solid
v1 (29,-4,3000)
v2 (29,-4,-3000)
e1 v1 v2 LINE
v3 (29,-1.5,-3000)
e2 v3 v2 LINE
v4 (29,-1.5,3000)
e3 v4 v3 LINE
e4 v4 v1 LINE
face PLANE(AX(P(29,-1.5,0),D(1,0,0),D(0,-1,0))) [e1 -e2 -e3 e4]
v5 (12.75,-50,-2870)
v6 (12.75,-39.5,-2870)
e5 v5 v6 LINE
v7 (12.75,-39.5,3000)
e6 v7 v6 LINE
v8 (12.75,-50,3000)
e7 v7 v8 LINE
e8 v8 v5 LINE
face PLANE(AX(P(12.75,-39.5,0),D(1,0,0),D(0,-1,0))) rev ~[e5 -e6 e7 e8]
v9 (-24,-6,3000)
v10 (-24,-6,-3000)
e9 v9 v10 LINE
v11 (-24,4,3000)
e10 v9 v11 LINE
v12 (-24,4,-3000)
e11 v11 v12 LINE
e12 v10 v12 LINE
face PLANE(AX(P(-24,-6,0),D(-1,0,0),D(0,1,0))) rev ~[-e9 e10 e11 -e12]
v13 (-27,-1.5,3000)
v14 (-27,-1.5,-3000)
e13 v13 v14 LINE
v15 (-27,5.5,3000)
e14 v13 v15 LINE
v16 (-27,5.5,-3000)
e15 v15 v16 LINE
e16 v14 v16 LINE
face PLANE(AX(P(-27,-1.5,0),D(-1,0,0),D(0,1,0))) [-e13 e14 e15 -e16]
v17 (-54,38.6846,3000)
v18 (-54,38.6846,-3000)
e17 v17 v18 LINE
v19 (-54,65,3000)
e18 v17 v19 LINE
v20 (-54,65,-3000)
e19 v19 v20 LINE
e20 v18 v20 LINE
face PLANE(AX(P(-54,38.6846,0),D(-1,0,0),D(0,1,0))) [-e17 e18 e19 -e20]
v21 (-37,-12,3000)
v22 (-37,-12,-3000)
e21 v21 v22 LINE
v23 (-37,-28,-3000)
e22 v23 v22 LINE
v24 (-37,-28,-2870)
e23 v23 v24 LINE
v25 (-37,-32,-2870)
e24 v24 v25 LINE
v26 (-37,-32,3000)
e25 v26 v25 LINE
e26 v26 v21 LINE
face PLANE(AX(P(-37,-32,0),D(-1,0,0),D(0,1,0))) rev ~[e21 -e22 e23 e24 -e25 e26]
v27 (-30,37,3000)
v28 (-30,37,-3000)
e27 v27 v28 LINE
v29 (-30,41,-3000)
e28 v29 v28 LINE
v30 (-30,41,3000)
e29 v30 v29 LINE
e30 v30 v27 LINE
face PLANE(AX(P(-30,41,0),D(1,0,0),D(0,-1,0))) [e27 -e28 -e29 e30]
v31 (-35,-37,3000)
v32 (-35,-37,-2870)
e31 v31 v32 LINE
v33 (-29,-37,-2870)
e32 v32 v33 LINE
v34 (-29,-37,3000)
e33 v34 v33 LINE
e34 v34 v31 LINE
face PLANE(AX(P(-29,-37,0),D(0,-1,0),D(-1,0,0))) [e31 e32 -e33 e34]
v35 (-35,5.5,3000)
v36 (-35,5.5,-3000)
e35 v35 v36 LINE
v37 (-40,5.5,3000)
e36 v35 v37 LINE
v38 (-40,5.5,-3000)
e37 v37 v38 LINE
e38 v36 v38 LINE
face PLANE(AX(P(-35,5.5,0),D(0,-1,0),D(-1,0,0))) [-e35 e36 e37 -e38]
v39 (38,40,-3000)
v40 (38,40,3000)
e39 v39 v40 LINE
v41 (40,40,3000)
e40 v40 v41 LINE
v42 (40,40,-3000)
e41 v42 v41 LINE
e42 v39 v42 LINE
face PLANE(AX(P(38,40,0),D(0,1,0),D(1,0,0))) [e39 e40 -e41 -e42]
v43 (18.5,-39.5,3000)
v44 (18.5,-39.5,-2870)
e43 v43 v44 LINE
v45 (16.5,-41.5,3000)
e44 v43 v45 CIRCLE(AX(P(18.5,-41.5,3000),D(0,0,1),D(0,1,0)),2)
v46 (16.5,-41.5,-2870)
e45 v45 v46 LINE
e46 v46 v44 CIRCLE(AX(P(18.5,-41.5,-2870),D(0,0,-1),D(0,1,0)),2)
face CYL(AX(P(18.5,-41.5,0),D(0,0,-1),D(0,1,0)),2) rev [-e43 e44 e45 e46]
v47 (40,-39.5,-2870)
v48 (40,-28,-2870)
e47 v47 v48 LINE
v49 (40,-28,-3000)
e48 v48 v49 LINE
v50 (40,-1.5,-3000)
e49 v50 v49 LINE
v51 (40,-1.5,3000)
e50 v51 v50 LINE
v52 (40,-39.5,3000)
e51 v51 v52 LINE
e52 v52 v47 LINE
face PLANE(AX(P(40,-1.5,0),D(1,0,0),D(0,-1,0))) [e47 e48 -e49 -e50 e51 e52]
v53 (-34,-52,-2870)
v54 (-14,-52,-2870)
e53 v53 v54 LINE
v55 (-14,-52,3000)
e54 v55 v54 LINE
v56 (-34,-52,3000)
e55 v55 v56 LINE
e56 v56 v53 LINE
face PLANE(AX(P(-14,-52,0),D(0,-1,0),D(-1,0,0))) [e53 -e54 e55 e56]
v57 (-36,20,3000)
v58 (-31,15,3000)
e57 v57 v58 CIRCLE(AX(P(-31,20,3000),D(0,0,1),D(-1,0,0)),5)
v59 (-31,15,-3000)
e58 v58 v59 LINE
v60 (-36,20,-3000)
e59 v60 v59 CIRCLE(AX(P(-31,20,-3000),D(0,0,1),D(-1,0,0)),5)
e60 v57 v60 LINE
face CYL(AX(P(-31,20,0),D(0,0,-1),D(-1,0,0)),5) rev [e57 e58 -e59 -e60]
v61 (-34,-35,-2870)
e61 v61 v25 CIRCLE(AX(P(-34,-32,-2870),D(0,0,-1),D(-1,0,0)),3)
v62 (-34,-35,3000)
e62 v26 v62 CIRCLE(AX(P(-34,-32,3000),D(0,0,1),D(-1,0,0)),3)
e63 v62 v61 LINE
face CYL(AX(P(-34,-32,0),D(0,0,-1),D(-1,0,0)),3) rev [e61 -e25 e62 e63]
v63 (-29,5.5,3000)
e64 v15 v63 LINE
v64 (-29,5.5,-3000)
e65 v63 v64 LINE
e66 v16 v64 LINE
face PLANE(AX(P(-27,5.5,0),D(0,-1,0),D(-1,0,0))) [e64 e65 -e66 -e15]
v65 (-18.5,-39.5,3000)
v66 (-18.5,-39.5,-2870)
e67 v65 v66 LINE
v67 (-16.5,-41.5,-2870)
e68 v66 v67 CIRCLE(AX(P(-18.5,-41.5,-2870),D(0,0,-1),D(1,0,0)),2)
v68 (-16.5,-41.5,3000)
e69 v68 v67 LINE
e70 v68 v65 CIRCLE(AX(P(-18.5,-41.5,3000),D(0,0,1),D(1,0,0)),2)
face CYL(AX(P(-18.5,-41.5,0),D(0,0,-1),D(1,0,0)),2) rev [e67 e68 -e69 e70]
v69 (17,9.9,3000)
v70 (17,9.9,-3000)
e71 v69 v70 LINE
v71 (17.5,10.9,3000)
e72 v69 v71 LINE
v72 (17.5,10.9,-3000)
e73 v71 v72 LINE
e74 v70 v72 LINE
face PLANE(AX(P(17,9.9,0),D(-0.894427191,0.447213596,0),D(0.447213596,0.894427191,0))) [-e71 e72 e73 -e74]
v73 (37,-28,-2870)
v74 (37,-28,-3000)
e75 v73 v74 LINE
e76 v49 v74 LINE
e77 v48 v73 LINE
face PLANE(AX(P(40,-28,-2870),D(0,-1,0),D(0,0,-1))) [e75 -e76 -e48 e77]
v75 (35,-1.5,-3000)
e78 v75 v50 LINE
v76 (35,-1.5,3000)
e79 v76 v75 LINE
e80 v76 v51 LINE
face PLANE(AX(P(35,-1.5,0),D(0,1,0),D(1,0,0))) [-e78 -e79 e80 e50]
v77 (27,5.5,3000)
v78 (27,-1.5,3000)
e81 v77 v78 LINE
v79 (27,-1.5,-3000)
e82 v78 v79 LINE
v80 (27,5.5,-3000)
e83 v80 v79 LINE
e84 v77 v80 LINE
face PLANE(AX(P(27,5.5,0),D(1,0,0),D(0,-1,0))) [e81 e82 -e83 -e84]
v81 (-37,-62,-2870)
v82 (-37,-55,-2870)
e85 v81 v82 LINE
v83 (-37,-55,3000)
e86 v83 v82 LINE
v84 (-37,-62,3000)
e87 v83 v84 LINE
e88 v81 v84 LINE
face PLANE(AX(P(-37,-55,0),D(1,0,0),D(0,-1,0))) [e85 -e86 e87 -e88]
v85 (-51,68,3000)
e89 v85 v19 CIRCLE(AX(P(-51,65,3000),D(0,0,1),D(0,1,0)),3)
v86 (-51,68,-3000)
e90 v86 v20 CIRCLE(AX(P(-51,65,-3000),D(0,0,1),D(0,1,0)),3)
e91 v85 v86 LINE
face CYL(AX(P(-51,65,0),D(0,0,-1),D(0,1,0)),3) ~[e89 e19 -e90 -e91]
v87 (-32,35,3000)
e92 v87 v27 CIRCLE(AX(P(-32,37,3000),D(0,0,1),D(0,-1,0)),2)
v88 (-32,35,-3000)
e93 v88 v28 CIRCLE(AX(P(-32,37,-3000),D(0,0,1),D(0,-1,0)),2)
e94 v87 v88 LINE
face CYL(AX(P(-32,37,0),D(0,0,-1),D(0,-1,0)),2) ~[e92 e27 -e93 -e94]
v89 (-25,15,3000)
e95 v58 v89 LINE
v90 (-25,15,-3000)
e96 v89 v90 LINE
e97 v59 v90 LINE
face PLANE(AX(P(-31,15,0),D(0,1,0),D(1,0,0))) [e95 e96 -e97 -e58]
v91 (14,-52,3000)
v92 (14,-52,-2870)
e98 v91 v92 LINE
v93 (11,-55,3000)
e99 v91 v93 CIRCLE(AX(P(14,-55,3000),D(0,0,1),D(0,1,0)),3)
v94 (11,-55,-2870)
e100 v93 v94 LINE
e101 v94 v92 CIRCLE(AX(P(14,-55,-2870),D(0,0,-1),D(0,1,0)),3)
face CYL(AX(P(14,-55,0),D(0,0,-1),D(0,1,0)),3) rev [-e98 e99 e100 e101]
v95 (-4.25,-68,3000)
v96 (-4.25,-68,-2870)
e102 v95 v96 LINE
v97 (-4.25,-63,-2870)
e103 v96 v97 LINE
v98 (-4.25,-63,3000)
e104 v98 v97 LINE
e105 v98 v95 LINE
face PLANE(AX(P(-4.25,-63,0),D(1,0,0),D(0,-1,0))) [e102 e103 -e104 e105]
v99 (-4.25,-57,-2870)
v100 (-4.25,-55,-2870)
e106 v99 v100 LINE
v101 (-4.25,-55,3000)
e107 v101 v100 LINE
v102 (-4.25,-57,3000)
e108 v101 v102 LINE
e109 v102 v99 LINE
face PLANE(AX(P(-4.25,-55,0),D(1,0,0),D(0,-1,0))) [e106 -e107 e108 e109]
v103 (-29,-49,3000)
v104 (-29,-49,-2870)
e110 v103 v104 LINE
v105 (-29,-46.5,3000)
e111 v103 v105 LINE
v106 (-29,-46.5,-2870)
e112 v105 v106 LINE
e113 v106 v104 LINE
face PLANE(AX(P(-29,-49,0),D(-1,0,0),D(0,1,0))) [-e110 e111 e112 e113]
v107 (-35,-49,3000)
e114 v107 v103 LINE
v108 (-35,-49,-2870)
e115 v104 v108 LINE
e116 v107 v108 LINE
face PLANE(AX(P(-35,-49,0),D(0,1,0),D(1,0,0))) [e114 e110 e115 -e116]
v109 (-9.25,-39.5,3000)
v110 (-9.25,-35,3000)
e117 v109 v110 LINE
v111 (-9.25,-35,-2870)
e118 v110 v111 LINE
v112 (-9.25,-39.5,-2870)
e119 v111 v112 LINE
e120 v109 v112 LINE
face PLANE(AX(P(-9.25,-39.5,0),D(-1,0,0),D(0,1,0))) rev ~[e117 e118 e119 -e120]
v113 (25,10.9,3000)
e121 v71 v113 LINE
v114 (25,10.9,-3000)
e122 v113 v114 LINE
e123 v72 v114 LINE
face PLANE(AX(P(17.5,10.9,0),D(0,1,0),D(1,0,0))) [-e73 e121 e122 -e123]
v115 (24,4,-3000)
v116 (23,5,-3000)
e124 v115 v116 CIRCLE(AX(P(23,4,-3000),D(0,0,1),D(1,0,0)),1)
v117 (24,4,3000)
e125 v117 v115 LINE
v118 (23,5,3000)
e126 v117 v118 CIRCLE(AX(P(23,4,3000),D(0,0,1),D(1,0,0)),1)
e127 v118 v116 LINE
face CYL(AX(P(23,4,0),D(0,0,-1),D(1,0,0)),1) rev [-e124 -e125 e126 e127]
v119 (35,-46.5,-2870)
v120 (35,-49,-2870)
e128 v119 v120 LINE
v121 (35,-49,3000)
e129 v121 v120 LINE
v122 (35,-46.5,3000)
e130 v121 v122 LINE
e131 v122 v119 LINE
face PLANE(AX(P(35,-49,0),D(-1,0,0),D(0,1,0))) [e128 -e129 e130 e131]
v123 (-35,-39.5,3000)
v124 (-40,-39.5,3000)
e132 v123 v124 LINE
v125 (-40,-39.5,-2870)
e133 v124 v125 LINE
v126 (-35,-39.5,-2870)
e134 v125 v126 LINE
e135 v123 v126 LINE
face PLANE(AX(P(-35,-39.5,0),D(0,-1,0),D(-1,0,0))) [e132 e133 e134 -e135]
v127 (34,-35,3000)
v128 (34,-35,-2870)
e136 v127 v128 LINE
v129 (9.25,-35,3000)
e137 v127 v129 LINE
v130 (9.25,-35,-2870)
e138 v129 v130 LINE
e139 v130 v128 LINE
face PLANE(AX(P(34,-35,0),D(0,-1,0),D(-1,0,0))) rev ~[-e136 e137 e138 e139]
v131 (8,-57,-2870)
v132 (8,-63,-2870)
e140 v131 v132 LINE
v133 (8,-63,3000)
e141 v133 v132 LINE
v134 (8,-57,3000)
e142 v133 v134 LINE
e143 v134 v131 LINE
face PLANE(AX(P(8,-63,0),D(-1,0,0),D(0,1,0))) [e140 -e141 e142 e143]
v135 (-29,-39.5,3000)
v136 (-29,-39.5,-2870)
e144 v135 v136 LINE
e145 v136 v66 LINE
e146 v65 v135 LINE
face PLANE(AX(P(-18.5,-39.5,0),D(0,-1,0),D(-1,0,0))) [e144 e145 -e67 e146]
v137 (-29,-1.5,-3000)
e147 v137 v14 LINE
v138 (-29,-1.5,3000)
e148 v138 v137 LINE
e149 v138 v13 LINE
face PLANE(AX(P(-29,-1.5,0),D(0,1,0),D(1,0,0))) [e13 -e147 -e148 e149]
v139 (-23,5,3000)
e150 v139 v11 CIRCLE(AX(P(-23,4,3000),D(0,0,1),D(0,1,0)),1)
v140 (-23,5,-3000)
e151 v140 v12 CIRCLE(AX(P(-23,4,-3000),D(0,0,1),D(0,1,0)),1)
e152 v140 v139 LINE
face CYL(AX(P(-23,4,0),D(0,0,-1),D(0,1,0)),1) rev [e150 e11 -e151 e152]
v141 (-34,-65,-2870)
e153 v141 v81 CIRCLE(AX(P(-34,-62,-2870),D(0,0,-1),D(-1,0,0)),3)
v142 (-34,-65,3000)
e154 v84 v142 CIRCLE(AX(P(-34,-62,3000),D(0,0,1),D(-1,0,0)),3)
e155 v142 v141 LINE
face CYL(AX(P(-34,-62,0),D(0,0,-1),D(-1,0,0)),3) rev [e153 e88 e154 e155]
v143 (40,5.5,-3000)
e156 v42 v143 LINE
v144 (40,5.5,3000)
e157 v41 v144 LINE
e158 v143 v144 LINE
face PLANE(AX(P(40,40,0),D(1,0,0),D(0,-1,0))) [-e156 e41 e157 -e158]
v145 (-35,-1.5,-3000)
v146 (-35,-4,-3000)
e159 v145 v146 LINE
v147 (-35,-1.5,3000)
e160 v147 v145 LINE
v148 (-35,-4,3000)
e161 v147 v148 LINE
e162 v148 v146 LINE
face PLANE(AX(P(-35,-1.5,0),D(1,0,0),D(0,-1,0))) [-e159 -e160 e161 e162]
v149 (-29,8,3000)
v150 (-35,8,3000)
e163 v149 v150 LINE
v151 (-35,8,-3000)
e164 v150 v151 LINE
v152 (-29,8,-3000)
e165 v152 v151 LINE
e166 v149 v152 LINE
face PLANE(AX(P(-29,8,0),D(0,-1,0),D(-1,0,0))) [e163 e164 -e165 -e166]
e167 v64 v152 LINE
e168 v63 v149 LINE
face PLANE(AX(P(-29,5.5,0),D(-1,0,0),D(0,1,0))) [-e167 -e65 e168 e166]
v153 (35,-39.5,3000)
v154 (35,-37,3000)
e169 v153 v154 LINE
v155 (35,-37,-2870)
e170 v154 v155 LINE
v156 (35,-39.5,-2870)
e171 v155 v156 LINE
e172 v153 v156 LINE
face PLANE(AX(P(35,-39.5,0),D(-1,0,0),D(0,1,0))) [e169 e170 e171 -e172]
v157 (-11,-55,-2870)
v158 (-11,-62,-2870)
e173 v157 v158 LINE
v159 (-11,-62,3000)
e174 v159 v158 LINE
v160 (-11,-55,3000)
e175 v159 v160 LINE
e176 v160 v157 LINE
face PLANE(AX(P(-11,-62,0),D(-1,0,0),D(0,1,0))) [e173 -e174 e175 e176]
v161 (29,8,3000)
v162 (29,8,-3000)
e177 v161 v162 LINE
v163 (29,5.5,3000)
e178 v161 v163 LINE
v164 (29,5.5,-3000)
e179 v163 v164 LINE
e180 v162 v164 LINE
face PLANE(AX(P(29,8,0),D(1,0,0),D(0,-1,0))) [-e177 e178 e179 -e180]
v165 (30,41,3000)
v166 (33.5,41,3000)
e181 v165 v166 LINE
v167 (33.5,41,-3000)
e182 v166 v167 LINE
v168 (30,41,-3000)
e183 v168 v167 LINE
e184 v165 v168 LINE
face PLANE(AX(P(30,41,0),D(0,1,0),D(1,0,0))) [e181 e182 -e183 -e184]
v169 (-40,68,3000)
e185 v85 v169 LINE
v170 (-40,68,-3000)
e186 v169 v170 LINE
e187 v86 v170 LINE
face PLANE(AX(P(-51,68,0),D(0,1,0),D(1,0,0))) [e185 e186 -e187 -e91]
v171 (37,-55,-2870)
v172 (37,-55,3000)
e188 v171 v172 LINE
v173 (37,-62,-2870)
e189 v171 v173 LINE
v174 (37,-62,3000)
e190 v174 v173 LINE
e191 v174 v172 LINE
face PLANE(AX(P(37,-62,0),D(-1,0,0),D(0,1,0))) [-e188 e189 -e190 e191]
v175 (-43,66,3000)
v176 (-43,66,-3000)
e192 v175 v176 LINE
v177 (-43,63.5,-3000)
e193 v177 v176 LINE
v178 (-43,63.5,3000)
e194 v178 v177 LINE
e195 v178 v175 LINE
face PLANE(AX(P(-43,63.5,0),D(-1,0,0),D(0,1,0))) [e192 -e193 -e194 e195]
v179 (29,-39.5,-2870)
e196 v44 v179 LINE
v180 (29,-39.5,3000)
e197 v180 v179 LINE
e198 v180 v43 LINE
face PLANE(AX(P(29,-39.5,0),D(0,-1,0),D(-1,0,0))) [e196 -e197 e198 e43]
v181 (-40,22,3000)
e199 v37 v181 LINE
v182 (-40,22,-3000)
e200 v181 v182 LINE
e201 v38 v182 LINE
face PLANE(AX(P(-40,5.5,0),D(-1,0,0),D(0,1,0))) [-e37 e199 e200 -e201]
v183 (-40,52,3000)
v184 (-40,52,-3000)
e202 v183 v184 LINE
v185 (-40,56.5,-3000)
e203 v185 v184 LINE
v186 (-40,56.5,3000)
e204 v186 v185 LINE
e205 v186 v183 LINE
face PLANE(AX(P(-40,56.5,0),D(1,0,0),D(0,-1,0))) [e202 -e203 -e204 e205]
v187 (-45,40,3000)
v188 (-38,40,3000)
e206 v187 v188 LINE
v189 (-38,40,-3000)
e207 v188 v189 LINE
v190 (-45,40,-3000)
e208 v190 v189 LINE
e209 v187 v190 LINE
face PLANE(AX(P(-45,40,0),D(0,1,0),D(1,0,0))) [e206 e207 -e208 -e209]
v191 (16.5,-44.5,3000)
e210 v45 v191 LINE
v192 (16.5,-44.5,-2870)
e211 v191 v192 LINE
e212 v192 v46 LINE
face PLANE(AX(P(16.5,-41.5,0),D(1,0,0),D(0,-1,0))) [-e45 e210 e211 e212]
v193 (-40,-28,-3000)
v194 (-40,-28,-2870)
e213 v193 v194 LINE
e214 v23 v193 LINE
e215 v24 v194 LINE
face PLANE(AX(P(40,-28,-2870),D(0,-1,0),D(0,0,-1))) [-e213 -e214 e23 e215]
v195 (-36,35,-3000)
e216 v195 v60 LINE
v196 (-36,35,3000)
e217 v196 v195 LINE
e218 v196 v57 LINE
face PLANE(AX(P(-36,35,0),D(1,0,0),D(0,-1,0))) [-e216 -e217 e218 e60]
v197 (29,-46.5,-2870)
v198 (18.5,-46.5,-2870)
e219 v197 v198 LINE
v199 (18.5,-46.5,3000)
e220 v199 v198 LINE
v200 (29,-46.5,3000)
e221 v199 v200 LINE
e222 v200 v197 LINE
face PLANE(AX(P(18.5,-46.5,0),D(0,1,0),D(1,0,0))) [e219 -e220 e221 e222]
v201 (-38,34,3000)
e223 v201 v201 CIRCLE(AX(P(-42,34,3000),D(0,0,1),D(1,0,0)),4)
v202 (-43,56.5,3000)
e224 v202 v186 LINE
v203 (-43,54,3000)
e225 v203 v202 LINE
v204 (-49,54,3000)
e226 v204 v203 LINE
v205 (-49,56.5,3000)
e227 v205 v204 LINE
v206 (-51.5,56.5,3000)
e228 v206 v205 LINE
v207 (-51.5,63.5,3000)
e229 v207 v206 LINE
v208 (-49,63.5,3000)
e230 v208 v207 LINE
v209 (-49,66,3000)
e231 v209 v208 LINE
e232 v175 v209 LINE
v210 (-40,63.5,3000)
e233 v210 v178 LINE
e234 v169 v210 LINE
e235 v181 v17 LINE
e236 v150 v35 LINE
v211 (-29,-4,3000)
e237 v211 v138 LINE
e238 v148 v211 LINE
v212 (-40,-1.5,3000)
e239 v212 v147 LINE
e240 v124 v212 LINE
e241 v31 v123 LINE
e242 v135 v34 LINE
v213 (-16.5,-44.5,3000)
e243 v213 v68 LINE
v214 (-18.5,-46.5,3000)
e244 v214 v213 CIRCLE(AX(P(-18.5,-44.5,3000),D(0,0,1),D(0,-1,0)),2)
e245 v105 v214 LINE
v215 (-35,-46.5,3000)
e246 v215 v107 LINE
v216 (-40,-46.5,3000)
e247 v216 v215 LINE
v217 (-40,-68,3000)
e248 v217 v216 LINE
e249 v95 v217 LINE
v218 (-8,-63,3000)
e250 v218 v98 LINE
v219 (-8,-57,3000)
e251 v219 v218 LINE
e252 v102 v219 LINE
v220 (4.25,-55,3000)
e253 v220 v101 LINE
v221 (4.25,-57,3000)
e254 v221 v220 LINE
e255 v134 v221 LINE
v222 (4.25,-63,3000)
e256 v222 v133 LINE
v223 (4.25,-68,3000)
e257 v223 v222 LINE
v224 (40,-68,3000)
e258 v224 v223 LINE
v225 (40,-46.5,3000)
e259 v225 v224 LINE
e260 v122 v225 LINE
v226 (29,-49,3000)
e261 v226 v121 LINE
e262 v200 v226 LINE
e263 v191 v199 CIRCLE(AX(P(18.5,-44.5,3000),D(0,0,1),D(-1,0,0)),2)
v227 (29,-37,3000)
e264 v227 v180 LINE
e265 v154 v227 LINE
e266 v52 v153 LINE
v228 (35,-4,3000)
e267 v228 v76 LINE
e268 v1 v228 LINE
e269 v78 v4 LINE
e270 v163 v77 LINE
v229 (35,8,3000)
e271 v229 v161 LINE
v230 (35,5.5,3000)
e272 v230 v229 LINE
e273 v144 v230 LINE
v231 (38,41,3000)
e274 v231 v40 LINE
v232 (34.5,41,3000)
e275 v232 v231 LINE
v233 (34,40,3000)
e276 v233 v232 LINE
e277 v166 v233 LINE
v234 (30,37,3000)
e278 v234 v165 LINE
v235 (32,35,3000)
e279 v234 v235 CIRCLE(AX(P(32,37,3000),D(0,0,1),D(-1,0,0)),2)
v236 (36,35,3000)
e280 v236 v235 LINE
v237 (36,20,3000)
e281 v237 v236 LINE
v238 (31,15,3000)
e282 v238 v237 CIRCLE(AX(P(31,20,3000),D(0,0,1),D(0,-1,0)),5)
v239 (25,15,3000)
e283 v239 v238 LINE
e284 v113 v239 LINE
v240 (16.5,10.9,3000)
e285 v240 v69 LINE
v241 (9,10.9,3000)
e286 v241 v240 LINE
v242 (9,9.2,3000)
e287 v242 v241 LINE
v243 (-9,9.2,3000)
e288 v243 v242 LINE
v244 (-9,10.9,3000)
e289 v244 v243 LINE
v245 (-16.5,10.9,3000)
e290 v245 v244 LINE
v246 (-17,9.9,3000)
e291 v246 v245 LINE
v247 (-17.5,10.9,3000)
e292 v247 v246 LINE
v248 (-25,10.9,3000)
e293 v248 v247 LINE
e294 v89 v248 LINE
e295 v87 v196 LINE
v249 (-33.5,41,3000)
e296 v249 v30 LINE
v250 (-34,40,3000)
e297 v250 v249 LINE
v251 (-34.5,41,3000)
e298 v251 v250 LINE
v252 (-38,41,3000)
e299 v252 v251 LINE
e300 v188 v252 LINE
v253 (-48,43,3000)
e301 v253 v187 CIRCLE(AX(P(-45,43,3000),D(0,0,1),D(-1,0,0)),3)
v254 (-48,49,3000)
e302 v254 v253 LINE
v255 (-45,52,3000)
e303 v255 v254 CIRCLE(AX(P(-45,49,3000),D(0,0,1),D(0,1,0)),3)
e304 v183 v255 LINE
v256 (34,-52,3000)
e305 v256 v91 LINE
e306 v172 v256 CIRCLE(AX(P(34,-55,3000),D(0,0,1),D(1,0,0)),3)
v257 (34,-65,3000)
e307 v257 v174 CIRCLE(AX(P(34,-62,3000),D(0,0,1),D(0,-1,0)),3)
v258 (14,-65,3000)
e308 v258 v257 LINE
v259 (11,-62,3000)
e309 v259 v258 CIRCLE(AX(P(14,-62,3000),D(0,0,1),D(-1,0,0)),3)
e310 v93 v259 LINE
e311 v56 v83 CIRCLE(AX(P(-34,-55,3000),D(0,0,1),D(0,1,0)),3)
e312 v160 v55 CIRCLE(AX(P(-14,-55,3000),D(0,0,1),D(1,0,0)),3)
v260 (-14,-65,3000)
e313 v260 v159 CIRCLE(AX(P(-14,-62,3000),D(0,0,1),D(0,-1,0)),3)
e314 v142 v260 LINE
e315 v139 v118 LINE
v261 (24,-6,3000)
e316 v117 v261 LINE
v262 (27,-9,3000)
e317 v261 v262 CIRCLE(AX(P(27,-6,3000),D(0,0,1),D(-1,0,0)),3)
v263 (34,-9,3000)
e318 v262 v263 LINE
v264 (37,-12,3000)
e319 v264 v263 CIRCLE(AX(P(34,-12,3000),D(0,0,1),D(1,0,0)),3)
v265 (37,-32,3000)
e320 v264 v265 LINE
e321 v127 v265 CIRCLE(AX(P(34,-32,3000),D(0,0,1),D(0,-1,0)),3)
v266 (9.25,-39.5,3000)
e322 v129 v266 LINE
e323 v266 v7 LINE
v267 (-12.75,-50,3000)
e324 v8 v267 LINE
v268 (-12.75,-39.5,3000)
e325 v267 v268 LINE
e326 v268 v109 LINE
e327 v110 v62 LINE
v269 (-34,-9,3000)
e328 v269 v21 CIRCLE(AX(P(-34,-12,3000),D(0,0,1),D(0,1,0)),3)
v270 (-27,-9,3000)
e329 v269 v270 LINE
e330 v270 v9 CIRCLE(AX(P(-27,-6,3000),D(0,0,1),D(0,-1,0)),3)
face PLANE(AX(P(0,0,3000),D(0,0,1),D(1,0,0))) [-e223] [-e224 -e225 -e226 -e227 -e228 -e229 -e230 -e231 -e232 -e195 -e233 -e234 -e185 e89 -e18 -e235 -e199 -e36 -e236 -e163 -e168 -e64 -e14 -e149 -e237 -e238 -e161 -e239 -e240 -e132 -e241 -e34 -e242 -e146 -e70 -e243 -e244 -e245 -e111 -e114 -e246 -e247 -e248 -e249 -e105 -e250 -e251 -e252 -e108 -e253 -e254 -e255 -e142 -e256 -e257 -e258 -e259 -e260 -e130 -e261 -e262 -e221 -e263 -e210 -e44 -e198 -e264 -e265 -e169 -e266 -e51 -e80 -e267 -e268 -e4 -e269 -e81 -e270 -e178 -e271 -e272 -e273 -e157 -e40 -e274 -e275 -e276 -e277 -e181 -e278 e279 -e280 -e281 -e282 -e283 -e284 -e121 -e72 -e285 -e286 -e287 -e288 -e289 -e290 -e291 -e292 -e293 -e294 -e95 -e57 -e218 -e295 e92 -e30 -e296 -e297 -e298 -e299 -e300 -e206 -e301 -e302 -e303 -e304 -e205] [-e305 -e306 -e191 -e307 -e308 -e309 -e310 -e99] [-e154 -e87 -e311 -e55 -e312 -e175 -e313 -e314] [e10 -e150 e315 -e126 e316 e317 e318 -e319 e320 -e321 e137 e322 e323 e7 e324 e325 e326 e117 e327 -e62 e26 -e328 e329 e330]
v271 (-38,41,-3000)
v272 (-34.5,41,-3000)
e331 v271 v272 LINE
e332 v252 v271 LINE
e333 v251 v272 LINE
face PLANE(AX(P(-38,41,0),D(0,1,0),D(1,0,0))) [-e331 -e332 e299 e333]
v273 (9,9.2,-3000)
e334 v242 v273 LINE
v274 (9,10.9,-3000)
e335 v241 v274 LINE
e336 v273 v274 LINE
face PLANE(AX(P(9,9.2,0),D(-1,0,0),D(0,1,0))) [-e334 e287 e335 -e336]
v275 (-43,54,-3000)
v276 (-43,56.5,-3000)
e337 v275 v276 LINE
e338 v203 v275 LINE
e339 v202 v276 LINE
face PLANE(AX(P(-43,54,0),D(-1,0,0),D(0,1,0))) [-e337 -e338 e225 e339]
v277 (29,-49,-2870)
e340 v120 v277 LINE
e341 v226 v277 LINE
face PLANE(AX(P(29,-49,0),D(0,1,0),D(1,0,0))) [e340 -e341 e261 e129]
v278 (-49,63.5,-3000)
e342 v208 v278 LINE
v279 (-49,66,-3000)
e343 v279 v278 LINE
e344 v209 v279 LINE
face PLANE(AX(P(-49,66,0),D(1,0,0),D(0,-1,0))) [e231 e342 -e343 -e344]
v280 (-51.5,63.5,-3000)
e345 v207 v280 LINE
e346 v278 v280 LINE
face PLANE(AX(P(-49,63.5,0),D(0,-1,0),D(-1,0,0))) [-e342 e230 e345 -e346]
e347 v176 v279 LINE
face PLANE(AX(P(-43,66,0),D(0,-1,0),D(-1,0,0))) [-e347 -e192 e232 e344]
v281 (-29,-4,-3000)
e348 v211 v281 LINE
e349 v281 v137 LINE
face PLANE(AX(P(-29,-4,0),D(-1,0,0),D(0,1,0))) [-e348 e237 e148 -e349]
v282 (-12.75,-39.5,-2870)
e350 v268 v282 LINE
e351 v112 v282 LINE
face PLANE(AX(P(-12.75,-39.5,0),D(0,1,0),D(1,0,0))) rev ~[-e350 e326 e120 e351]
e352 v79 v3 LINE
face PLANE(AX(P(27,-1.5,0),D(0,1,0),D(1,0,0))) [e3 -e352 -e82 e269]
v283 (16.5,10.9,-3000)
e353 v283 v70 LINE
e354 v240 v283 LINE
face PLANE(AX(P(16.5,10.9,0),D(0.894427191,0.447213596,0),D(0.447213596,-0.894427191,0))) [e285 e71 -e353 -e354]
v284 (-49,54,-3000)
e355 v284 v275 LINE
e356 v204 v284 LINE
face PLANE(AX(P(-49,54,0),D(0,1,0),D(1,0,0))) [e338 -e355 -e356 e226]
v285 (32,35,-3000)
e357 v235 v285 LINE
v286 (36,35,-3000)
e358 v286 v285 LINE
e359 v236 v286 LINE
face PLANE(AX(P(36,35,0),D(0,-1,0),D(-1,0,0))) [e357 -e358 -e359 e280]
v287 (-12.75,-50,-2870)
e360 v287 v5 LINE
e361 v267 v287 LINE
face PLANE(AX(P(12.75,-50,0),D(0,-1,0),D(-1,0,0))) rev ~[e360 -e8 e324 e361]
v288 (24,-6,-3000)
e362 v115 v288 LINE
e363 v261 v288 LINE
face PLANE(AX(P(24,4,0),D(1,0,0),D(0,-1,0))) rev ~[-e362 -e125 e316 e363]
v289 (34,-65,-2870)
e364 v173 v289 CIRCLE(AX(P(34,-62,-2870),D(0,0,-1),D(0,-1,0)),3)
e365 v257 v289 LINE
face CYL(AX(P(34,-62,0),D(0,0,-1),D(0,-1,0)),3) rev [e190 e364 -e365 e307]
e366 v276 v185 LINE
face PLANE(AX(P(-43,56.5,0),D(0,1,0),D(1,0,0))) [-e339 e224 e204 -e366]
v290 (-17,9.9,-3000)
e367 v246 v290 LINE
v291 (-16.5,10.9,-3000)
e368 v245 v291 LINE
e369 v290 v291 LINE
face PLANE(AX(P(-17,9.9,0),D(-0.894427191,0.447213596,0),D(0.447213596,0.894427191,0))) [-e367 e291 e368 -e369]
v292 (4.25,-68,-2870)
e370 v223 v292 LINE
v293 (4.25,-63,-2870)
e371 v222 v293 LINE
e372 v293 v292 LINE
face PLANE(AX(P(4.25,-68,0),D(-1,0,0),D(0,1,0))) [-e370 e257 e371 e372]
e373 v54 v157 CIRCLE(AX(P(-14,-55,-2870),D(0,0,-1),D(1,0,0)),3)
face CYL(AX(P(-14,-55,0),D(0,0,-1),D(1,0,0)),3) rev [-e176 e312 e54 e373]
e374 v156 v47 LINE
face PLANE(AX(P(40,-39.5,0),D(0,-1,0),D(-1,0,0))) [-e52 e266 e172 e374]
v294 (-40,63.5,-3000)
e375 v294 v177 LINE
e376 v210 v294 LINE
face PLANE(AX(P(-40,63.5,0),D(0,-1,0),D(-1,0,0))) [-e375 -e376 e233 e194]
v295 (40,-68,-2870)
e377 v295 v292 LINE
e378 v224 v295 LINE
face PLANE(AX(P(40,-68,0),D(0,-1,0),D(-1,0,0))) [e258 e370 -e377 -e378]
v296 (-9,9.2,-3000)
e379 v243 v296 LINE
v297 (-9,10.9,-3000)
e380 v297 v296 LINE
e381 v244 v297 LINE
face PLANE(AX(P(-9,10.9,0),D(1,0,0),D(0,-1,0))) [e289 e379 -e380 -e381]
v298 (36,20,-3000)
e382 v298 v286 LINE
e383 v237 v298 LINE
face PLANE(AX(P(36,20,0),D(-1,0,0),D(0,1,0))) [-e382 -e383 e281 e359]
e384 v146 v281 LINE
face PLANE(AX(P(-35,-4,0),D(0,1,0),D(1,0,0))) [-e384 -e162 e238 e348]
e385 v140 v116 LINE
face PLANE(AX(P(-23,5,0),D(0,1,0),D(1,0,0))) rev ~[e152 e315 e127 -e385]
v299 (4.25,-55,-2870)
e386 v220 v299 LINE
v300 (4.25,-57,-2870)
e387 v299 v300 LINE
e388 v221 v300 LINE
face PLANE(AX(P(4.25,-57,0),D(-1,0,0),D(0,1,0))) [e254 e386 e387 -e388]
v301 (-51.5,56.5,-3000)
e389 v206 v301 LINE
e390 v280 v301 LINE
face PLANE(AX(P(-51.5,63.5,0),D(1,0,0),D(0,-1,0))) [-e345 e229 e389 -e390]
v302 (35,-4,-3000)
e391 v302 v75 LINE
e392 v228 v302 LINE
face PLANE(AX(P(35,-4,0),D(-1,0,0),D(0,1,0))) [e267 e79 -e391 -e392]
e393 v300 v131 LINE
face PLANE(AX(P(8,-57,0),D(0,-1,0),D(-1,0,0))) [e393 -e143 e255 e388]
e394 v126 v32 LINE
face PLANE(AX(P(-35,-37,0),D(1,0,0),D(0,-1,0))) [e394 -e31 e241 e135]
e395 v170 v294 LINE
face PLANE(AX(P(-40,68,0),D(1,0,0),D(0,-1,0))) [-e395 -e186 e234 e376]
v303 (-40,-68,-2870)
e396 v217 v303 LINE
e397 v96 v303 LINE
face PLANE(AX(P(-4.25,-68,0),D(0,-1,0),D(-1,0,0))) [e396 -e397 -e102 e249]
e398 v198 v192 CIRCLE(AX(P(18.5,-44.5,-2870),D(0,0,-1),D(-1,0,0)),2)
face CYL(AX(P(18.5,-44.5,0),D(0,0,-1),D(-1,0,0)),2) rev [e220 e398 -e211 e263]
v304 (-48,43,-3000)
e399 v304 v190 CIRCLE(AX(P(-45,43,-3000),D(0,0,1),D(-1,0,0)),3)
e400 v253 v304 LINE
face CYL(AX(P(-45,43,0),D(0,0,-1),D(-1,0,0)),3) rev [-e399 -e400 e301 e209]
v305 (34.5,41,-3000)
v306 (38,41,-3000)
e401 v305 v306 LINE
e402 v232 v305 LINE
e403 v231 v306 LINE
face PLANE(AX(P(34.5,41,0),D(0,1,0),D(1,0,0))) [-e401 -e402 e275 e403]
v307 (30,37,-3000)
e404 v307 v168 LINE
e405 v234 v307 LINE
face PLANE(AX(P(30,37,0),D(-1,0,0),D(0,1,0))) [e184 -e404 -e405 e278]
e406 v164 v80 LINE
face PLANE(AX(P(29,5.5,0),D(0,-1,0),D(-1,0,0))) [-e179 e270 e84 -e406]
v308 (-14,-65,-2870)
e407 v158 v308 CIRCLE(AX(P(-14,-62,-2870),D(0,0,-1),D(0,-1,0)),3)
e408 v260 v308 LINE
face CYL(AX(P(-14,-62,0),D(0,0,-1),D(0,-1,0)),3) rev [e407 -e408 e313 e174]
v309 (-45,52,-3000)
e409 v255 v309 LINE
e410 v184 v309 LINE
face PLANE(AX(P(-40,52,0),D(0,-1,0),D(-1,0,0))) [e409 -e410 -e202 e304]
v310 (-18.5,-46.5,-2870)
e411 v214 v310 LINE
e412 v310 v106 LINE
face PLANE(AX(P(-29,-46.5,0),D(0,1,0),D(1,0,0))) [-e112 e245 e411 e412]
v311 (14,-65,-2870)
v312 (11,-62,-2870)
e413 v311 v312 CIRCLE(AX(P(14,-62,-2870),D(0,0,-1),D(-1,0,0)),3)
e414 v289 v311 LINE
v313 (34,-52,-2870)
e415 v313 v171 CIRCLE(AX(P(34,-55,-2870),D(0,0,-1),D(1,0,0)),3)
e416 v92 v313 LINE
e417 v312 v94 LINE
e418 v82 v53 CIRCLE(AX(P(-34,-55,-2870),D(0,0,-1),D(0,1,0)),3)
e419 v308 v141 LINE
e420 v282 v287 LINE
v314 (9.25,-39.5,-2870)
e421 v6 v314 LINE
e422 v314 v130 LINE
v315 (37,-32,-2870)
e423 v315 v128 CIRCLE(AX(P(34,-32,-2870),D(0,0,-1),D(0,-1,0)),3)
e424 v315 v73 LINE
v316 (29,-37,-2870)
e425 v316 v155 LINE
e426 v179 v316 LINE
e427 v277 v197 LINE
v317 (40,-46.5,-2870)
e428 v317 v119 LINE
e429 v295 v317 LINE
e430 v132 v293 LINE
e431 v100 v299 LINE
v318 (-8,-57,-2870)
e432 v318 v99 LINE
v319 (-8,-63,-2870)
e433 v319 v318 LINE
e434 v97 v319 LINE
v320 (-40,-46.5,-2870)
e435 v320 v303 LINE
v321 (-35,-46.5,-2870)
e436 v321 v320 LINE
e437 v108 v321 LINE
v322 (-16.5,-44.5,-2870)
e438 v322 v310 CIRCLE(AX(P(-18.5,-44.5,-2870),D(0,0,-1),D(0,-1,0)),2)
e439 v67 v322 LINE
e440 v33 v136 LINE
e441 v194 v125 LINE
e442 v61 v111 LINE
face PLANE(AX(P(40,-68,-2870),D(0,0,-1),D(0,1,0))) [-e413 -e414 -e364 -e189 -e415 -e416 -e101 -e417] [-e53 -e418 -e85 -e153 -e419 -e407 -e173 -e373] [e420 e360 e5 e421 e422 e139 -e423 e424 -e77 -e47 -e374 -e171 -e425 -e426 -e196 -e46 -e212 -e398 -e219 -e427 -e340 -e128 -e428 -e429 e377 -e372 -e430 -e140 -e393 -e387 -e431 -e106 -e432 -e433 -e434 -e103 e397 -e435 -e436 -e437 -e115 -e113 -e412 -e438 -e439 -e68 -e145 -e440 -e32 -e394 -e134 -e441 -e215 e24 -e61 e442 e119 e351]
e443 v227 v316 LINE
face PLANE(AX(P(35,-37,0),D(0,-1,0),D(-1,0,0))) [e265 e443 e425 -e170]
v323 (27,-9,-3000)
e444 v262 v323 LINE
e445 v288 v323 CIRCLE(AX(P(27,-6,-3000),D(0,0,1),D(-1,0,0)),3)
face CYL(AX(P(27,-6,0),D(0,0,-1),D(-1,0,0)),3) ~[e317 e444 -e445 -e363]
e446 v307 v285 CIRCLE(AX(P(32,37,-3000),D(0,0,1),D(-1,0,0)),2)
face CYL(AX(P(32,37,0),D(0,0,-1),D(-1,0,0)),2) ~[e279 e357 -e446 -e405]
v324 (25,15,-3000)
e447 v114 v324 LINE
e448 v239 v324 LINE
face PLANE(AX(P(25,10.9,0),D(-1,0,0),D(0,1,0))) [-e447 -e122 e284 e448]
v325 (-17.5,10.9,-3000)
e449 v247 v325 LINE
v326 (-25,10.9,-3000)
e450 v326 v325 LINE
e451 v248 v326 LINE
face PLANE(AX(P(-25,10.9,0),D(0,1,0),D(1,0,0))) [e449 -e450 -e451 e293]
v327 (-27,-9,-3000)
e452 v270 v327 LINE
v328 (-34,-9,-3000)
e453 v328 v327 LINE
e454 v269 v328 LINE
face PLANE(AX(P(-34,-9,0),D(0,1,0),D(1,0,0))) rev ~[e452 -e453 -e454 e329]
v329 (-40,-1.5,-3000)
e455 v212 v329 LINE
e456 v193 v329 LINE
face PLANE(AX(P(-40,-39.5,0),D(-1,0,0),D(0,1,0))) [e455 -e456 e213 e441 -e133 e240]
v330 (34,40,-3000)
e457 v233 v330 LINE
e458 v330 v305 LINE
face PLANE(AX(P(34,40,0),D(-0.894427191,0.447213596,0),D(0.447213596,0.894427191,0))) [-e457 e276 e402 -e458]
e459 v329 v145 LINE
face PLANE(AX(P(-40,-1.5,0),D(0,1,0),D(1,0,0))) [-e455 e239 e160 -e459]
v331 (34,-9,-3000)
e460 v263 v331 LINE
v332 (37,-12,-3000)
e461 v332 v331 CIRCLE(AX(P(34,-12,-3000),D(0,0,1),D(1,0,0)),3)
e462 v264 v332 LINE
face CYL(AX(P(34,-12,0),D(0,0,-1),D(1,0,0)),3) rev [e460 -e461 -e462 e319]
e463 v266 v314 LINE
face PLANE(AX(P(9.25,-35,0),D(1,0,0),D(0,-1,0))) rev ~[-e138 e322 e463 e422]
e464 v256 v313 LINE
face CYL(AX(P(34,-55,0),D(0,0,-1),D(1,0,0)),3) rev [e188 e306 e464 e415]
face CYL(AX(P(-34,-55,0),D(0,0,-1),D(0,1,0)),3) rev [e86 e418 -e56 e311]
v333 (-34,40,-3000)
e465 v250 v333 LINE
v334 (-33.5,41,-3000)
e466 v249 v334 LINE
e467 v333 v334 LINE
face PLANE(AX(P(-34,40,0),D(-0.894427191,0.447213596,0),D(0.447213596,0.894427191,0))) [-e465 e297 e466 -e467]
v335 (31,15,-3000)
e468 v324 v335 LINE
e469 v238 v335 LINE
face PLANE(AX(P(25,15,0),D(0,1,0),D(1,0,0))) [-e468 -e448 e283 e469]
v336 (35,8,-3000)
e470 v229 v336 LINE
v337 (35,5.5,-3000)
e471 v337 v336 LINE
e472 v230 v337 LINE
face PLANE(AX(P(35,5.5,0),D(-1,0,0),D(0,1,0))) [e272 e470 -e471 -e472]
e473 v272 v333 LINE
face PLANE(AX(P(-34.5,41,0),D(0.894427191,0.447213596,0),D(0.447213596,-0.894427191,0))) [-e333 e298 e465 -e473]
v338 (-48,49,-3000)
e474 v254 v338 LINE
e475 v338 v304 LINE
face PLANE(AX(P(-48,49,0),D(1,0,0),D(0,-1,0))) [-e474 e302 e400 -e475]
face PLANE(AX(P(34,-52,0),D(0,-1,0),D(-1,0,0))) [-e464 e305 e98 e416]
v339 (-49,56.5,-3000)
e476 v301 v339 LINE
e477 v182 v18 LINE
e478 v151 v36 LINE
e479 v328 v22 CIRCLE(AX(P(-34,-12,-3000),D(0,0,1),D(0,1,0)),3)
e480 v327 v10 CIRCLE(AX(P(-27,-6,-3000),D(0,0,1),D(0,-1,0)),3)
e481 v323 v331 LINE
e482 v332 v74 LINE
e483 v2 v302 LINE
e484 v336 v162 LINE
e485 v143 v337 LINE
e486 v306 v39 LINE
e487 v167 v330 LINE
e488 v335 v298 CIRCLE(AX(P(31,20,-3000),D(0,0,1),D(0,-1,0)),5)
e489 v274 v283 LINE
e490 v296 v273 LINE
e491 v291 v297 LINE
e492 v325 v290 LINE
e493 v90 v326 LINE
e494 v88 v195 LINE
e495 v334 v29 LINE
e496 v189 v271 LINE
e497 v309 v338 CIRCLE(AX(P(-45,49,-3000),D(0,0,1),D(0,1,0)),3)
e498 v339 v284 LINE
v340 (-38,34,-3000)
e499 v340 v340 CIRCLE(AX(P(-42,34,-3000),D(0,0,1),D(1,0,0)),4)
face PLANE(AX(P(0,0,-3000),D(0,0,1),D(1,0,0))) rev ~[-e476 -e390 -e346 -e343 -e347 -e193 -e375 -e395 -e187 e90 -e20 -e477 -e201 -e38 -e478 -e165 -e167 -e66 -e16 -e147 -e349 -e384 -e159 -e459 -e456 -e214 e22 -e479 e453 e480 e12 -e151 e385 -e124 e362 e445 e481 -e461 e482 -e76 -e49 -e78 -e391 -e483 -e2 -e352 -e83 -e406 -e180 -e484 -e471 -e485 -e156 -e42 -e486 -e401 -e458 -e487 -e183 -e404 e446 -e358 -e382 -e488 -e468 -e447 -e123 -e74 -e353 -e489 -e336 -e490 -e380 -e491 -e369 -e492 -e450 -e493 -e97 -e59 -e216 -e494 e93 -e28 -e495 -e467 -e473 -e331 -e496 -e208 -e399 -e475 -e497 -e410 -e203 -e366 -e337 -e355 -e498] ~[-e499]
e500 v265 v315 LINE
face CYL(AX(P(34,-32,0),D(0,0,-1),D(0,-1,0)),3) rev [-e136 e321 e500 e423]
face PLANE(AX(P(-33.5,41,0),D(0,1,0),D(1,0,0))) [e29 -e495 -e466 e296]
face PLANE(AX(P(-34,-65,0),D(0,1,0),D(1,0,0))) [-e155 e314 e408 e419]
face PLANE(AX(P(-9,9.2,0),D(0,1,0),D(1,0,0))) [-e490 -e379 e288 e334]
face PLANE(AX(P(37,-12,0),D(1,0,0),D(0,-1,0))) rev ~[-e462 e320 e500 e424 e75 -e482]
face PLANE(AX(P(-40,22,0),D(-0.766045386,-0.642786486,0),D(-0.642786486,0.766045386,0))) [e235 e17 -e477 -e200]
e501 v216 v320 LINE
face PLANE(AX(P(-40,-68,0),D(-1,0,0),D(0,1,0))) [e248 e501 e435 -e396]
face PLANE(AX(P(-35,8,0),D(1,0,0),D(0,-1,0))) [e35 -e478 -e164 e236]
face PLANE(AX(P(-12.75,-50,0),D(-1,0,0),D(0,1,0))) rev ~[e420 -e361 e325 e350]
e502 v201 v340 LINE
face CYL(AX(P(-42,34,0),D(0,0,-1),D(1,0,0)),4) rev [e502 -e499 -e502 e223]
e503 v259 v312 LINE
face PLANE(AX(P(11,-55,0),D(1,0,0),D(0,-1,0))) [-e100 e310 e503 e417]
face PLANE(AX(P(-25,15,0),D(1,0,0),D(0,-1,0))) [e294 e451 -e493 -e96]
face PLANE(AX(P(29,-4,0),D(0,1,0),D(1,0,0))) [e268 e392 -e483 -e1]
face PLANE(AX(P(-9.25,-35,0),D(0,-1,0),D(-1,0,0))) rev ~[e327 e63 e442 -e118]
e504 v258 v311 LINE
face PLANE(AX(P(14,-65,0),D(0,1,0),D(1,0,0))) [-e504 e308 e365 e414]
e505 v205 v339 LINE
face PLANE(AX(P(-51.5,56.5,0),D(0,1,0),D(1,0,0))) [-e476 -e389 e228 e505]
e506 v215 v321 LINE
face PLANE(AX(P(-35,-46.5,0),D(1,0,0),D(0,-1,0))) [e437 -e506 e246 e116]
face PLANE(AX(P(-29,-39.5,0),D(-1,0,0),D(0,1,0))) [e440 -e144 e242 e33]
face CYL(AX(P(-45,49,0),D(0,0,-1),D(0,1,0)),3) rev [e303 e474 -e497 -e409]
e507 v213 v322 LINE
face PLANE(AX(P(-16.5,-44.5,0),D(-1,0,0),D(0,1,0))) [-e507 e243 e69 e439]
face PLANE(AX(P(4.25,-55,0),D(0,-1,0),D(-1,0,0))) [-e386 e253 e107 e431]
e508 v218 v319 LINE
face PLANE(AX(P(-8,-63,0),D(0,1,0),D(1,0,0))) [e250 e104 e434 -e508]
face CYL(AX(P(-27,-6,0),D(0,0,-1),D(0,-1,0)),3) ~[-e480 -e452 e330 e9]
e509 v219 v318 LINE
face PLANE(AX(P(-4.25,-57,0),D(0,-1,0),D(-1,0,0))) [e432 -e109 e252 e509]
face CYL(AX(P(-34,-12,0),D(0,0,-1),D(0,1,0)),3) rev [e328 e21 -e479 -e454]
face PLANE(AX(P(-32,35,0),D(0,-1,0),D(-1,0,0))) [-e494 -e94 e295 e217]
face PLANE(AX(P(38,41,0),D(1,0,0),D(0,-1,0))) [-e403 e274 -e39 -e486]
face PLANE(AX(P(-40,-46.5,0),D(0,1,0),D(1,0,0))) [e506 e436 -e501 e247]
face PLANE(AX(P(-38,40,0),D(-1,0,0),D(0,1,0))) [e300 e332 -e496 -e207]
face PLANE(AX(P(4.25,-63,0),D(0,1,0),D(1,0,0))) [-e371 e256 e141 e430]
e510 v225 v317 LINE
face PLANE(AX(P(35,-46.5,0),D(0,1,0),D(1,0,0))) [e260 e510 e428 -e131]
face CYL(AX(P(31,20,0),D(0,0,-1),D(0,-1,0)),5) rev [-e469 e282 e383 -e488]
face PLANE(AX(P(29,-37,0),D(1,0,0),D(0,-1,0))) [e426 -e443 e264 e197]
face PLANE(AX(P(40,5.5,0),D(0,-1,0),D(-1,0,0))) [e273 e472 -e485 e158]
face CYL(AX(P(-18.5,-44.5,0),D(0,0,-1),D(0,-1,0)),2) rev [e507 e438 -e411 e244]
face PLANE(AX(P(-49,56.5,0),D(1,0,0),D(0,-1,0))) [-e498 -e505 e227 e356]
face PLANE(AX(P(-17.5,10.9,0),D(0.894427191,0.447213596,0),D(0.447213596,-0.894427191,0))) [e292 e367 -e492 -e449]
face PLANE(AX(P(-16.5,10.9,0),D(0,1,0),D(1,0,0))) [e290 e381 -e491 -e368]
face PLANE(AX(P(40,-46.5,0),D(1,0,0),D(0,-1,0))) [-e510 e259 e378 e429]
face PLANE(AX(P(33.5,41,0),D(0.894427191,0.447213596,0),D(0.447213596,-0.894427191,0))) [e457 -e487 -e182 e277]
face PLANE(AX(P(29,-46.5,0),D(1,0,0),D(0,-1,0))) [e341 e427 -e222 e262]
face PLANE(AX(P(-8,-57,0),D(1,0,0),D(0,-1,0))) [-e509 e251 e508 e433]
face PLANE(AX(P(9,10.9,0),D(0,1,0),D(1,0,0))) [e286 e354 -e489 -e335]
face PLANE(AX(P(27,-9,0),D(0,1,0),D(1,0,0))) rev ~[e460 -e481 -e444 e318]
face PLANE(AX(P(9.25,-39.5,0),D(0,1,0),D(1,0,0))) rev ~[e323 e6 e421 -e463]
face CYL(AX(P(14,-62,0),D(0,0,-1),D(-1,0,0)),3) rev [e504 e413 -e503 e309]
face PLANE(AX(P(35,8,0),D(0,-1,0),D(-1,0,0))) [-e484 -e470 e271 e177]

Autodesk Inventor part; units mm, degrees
ref_plane "YZ Plane" through (0, 0, 0) normal (1, 0, 0) x (0, 1, 0)
ref_plane "XZ Plane" through (0, 0, 0) normal (0, 1, 0) x (-1, 0, 0)
ref_plane "XY Plane" through (0, 0, 0) normal (0, 0, 1) x (1, 0, 0)
sketch "스케치9" plane through (0, 0, 0) normal (0, 0, 1) x (1, 0, 0)
  line L0 (40, 5.5) -> (35, 5.5)
  line L1 (35, 5.5) -> (35, 8)
  line L2 (35, 8) -> (29, 8)
  line L3 (29, 8) -> (29, 5.5)
  line L4 (29, 5.5) -> (27, 5.5)
  line L5 (27, 5.5) -> (27, -1.5)
  line L6 (29, -1.5) -> (29, -4)
  line L7 (29, -4) -> (35, -4)
  line L8 (35, -4) -> (35, -1.5)
  line L9 (35, -1.5) -> (40, -1.5)
  line L10 (40, -1.5) -> (40, -39.5)
  line L11 (40, -39.5) -> (35, -39.5)
  line L12 (35, -39.5) -> (35, -37)
  line L13 (35, -37) -> (29, -37)
  line L14 (29, -37) -> (29, -39.5)
  line L15 (29, -39.5) -> (18.5, -39.5)
  arc A0 (18.5, -39.5) -> (16.5, -41.5) centre (18.5, -41.5) ccw
  line L16 (16.5, -41.5) -> (16.5, -44.5)
  arc A1 (16.5, -44.5) -> (18.5, -46.5) centre (18.5, -44.5) ccw
  line L17 (18.5, -46.5) -> (29, -46.5)
  line L18 (29, -46.5) -> (29, -49)
  line L19 (29, -49) -> (35, -49)
  line L20 (35, -49) -> (35, -46.5)
  line L21 (35, -46.5) -> (40, -46.5)
  line L22 (40, -46.5) -> (40, -68)
  line L23 (40, -68) -> (4.25, -68)
  line L24 (4.25, -68) -> (4.25, -63)
  line L25 (4.25, -63) -> (8, -63)
  line L26 (8, -63) -> (8, -57)
  line L27 (8, -57) -> (4.25, -57)
  line L28 (4.25, -57) -> (4.25, -55)
  line L29 (4.25, -55) -> (-4.25, -55)
  line L30 (-4.25, -55) -> (-4.25, -57)
  line L31 (-4.25, -57) -> (-8, -57)
  line L32 (-8, -57) -> (-8, -63)
  line L33 (-8, -63) -> (-4.25, -63)
  line L34 (-4.25, -63) -> (-4.25, -68)
  line L35 (-4.25, -68) -> (-40, -68)
  line L36 (-40, -68) -> (-40, -46.5)
  line L37 (-40, -46.5) -> (-35, -46.5)
  line L38 (-35, -46.5) -> (-35, -49)
  line L39 (-35, -49) -> (-29, -49)
  line L40 (-29, -49) -> (-29, -46.5)
  line L41 (-29, -46.5) -> (-18.5, -46.5)
  arc A2 (-18.5, -46.5) -> (-16.5, -44.5) centre (-18.5, -44.5) ccw
  line L42 (-16.5, -44.5) -> (-16.5, -41.5)
  arc A3 (-16.5, -41.5) -> (-18.5, -39.5) centre (-18.5, -41.5) ccw
  line L43 (-18.5, -39.5) -> (-29, -39.5)
  line L44 (-29, -39.5) -> (-29, -37)
  line L45 (-29, -37) -> (-35, -37)
  line L46 (-35, -37) -> (-35, -39.5)
  line L47 (-35, -39.5) -> (-40, -39.5)
  line L48 (-40, -39.5) -> (-40, -1.5)
  line L49 (-40, -1.5) -> (-35, -1.5)
  line L50 (-35, -1.5) -> (-35, -4)
  line L51 (-35, -4) -> (-29, -4)
  line L52 (-29, -4) -> (-29, -1.5)
  line L53 (-29, -1.5) -> (-27, -1.5)
  line L54 (-27, -1.5) -> (-27, 5.5)
  line L55 (-27, 5.5) -> (-29, 5.5)
  line L56 (-29, 5.5) -> (-29, 8)
  line L57 (-29, 8) -> (-35, 8)
  line L58 (-35, 8) -> (-35, 5.5)
  line L59 (-35, 5.5) -> (-40, 5.5)
  line L60 (-40, 5.5) -> (-40, 22)
  line L61 (-40, 22) -> (-54, 38.6846)
  line L62 (-54, 38.6846) -> (-54, 65)
  arc A4 (-51, 68) -> (-54, 65) centre (-51, 65) ccw
  line L63 (-51, 68) -> (-40, 68)
  line L64 (-40, 68) -> (-40, 63.5)
  line L65 (-40, 63.5) -> (-43, 63.5)
  line L66 (-43, 63.5) -> (-43, 66)
  line L67 (-43, 66) -> (-49, 66)
  line L68 (-49, 66) -> (-49, 63.5)
  line L69 (27, -1.5) -> (29, -1.5)
  line L70 (-51.5, 63.5) -> (-51.5, 56.5)
  line L71 (-51.5, 56.5) -> (-49, 56.5)
  line L72 (-49, 56.5) -> (-49, 54)
  line L73 (-49, 54) -> (-43, 54)
  line L74 (-43, 54) -> (-43, 56.5)
  line L75 (-43, 56.5) -> (-40, 56.5)
  line L76 (-40, 56.5) -> (-40, 52)
  line L77 (-40, 52) -> (-45, 52)
  arc A5 (-45, 52) -> (-48, 49) centre (-45, 49) ccw
  line L78 (-48, 49) -> (-48, 43)
  arc A6 (-48, 43) -> (-45, 40) centre (-45, 43) ccw
  line L79 (-45, 40) -> (-38, 40)
  line L80 (-38, 40) -> (-38, 41)
  line L81 (-38, 41) -> (-34.5, 41)
  line L82 (-34.5, 41) -> (-34, 40)
  line L83 (-34, 40) -> (-33.5, 41)
  line L84 (-33.5, 41) -> (-30, 41)
  line L85 (-30, 41) -> (-30, 37)
  arc A7 (-32, 35) -> (-30, 37) centre (-32, 37) ccw
  line L86 (-32, 35) -> (-36, 35)
  line L87 (-36, 35) -> (-36, 20)
  arc A8 (-36, 20) -> (-31, 15) centre (-31, 20) ccw
  line L88 (-31, 15) -> (-25, 15)
  line L89 (-25, 15) -> (-25, 10.9)
  line L90 (-25, 10.9) -> (-17.5, 10.9)
  line L91 (-17.5, 10.9) -> (-17, 9.9)
  line L92 (-17, 9.9) -> (-16.5, 10.9)
  line L93 (-16.5, 10.9) -> (-9, 10.9)
  line L94 (-9, 10.9) -> (-9, 9.2)
  line L95 (-9, 9.2) -> (9, 9.2)
  line L96 (9, 9.2) -> (9, 10.9)
  line L97 (9, 10.9) -> (16.5, 10.9)
  line L98 (16.5, 10.9) -> (17, 9.9)
  line L99 (17, 9.9) -> (17.5, 10.9)
  line L100 (17.5, 10.9) -> (25, 10.9)
  line L101 (25, 10.9) -> (25, 15)
  line L102 (25, 15) -> (31, 15)
  arc A9 (31, 15) -> (36, 20) centre (31, 20) ccw
  line L103 (36, 20) -> (36, 35)
  line L104 (36, 35) -> (32, 35)
  arc A10 (30, 37) -> (32, 35) centre (32, 37) ccw
  line L105 (30, 37) -> (30, 41)
  line L106 (30, 41) -> (33.5, 41)
  line L107 (33.5, 41) -> (34, 40)
  line L108 (34, 40) -> (34.5, 41)
  line L109 (34.5, 41) -> (38, 41)
  line L110 (38, 41) -> (38, 40)
  line L111 (38, 40) -> (40, 40)
  line L112 (40, 40) -> (40, 5.5)
  line L113 (-23, 5) -> (23, 5)
  arc A11 (24, 4) -> (23, 5) centre (23, 4) ccw
  line L114 (24, 4) -> (24, -6)
  arc A12 (24, -6) -> (27, -9) centre (27, -6) ccw
  line L115 (27, -9) -> (34, -9)
  arc A13 (37, -12) -> (34, -9) centre (34, -12) ccw
  line L116 (37, -12) -> (37, -32)
  arc A14 (34, -35) -> (37, -32) centre (34, -32) ccw
  line L117 (34, -35) -> (9.25, -35)
  line L118 (9.25, -35) -> (9.25, -39.5)
  line L119 (9.25, -39.5) -> (12.75, -39.5)
  line L120 (12.75, -39.5) -> (12.75, -50)
  line L121 (12.75, -50) -> (-12.75, -50)
  line L122 (-12.75, -50) -> (-12.75, -39.5)
  line L123 (-12.75, -39.5) -> (-9.25, -39.5)
  line L124 (-9.25, -39.5) -> (-9.25, -35)
  line L125 (-9.25, -35) -> (-34, -35)
  arc A15 (-37, -32) -> (-34, -35) centre (-34, -32) ccw
  line L126 (-49, 63.5) -> (-51.5, 63.5)
  arc A16 (-34, -9) -> (-37, -12) centre (-34, -12) ccw
  line L127 (-34, -9) -> (-27, -9)
  arc A17 (-27, -9) -> (-24, -6) centre (-27, -6) ccw
  line L128 (-24, -6) -> (-24, 4)
  arc A18 (-23, 5) -> (-24, 4) centre (-23, 4) ccw
  arc A19 (37, -55) -> (34, -52) centre (34, -55) ccw
  line L129 (34, -52) -> (14, -52)
  arc A20 (14, -52) -> (11, -55) centre (14, -55) ccw
  line L130 (11, -55) -> (11, -62)
  arc A21 (11, -62) -> (14, -65) centre (14, -62) ccw
  line L131 (14, -65) -> (34, -65)
  arc A22 (34, -65) -> (37, -62) centre (34, -62) ccw
  line L132 (37, -62) -> (37, -55)
  arc A23 (-37, -62) -> (-34, -65) centre (-34, -62) ccw
  line L133 (-34, -65) -> (-14, -65)
  arc A24 (-14, -65) -> (-11, -62) centre (-14, -62) ccw
  line L134 (-11, -62) -> (-11, -55)
  arc A25 (-11, -55) -> (-14, -52) centre (-14, -55) ccw
  line L135 (-14, -52) -> (-34, -52)
  arc A26 (-34, -52) -> (-37, -55) centre (-34, -55) ccw
  line L136 (-37, -55) -> (-37, -62)
  circle A27 centre (-42, 34) radius 4
  line L137 (-37, -32) -> (-37, -12)
  point P0 (0, 0)
  point P1 (0, 0)
  point P2 (-41.1372, 2)
  point P3 (-40.2674, -43)
extrude "돌출4" add sketch "스케치9" along normal mid plane 6000
sketch "스케치10" plane through (40, -46.5, 3000) normal (1, 0, 0) x (0, 0, -1)
  line L0 (6000, -21.5) -> (0, -21.5) construction
  line L1 (0, -21.5) -> (130, -21.5)
  line L2 (130, -21.5) -> (130, 18.5)
  line L3 (130, 18.5) -> (0, 18.5)
  line L4 (0, 18.5) -> (0, -21.5)
  line L5 (6000, -21.5) -> (5870, -21.5)
  line L6 (5870, -21.5) -> (5870, 18.5)
  line L7 (5870, 18.5) -> (6000, 18.5)
  line L8 (6000, 18.5) -> (6000, -21.5)
  point P0 (3000, 46.5)
  dimension "d42" = 40
  dimension "d43" = 130
  dimension "d44" = 130
extrude "돌출5" cut sketch "스케치10" against normal through all contours L5 L6 L7 L8
equation "\"d40\" = L1"
equation "\"d44\" = d43"
equation "\"L1\" = 6000"
properties part number "TL20240701-10100CV-DY1054-2-1" material "SS400"
